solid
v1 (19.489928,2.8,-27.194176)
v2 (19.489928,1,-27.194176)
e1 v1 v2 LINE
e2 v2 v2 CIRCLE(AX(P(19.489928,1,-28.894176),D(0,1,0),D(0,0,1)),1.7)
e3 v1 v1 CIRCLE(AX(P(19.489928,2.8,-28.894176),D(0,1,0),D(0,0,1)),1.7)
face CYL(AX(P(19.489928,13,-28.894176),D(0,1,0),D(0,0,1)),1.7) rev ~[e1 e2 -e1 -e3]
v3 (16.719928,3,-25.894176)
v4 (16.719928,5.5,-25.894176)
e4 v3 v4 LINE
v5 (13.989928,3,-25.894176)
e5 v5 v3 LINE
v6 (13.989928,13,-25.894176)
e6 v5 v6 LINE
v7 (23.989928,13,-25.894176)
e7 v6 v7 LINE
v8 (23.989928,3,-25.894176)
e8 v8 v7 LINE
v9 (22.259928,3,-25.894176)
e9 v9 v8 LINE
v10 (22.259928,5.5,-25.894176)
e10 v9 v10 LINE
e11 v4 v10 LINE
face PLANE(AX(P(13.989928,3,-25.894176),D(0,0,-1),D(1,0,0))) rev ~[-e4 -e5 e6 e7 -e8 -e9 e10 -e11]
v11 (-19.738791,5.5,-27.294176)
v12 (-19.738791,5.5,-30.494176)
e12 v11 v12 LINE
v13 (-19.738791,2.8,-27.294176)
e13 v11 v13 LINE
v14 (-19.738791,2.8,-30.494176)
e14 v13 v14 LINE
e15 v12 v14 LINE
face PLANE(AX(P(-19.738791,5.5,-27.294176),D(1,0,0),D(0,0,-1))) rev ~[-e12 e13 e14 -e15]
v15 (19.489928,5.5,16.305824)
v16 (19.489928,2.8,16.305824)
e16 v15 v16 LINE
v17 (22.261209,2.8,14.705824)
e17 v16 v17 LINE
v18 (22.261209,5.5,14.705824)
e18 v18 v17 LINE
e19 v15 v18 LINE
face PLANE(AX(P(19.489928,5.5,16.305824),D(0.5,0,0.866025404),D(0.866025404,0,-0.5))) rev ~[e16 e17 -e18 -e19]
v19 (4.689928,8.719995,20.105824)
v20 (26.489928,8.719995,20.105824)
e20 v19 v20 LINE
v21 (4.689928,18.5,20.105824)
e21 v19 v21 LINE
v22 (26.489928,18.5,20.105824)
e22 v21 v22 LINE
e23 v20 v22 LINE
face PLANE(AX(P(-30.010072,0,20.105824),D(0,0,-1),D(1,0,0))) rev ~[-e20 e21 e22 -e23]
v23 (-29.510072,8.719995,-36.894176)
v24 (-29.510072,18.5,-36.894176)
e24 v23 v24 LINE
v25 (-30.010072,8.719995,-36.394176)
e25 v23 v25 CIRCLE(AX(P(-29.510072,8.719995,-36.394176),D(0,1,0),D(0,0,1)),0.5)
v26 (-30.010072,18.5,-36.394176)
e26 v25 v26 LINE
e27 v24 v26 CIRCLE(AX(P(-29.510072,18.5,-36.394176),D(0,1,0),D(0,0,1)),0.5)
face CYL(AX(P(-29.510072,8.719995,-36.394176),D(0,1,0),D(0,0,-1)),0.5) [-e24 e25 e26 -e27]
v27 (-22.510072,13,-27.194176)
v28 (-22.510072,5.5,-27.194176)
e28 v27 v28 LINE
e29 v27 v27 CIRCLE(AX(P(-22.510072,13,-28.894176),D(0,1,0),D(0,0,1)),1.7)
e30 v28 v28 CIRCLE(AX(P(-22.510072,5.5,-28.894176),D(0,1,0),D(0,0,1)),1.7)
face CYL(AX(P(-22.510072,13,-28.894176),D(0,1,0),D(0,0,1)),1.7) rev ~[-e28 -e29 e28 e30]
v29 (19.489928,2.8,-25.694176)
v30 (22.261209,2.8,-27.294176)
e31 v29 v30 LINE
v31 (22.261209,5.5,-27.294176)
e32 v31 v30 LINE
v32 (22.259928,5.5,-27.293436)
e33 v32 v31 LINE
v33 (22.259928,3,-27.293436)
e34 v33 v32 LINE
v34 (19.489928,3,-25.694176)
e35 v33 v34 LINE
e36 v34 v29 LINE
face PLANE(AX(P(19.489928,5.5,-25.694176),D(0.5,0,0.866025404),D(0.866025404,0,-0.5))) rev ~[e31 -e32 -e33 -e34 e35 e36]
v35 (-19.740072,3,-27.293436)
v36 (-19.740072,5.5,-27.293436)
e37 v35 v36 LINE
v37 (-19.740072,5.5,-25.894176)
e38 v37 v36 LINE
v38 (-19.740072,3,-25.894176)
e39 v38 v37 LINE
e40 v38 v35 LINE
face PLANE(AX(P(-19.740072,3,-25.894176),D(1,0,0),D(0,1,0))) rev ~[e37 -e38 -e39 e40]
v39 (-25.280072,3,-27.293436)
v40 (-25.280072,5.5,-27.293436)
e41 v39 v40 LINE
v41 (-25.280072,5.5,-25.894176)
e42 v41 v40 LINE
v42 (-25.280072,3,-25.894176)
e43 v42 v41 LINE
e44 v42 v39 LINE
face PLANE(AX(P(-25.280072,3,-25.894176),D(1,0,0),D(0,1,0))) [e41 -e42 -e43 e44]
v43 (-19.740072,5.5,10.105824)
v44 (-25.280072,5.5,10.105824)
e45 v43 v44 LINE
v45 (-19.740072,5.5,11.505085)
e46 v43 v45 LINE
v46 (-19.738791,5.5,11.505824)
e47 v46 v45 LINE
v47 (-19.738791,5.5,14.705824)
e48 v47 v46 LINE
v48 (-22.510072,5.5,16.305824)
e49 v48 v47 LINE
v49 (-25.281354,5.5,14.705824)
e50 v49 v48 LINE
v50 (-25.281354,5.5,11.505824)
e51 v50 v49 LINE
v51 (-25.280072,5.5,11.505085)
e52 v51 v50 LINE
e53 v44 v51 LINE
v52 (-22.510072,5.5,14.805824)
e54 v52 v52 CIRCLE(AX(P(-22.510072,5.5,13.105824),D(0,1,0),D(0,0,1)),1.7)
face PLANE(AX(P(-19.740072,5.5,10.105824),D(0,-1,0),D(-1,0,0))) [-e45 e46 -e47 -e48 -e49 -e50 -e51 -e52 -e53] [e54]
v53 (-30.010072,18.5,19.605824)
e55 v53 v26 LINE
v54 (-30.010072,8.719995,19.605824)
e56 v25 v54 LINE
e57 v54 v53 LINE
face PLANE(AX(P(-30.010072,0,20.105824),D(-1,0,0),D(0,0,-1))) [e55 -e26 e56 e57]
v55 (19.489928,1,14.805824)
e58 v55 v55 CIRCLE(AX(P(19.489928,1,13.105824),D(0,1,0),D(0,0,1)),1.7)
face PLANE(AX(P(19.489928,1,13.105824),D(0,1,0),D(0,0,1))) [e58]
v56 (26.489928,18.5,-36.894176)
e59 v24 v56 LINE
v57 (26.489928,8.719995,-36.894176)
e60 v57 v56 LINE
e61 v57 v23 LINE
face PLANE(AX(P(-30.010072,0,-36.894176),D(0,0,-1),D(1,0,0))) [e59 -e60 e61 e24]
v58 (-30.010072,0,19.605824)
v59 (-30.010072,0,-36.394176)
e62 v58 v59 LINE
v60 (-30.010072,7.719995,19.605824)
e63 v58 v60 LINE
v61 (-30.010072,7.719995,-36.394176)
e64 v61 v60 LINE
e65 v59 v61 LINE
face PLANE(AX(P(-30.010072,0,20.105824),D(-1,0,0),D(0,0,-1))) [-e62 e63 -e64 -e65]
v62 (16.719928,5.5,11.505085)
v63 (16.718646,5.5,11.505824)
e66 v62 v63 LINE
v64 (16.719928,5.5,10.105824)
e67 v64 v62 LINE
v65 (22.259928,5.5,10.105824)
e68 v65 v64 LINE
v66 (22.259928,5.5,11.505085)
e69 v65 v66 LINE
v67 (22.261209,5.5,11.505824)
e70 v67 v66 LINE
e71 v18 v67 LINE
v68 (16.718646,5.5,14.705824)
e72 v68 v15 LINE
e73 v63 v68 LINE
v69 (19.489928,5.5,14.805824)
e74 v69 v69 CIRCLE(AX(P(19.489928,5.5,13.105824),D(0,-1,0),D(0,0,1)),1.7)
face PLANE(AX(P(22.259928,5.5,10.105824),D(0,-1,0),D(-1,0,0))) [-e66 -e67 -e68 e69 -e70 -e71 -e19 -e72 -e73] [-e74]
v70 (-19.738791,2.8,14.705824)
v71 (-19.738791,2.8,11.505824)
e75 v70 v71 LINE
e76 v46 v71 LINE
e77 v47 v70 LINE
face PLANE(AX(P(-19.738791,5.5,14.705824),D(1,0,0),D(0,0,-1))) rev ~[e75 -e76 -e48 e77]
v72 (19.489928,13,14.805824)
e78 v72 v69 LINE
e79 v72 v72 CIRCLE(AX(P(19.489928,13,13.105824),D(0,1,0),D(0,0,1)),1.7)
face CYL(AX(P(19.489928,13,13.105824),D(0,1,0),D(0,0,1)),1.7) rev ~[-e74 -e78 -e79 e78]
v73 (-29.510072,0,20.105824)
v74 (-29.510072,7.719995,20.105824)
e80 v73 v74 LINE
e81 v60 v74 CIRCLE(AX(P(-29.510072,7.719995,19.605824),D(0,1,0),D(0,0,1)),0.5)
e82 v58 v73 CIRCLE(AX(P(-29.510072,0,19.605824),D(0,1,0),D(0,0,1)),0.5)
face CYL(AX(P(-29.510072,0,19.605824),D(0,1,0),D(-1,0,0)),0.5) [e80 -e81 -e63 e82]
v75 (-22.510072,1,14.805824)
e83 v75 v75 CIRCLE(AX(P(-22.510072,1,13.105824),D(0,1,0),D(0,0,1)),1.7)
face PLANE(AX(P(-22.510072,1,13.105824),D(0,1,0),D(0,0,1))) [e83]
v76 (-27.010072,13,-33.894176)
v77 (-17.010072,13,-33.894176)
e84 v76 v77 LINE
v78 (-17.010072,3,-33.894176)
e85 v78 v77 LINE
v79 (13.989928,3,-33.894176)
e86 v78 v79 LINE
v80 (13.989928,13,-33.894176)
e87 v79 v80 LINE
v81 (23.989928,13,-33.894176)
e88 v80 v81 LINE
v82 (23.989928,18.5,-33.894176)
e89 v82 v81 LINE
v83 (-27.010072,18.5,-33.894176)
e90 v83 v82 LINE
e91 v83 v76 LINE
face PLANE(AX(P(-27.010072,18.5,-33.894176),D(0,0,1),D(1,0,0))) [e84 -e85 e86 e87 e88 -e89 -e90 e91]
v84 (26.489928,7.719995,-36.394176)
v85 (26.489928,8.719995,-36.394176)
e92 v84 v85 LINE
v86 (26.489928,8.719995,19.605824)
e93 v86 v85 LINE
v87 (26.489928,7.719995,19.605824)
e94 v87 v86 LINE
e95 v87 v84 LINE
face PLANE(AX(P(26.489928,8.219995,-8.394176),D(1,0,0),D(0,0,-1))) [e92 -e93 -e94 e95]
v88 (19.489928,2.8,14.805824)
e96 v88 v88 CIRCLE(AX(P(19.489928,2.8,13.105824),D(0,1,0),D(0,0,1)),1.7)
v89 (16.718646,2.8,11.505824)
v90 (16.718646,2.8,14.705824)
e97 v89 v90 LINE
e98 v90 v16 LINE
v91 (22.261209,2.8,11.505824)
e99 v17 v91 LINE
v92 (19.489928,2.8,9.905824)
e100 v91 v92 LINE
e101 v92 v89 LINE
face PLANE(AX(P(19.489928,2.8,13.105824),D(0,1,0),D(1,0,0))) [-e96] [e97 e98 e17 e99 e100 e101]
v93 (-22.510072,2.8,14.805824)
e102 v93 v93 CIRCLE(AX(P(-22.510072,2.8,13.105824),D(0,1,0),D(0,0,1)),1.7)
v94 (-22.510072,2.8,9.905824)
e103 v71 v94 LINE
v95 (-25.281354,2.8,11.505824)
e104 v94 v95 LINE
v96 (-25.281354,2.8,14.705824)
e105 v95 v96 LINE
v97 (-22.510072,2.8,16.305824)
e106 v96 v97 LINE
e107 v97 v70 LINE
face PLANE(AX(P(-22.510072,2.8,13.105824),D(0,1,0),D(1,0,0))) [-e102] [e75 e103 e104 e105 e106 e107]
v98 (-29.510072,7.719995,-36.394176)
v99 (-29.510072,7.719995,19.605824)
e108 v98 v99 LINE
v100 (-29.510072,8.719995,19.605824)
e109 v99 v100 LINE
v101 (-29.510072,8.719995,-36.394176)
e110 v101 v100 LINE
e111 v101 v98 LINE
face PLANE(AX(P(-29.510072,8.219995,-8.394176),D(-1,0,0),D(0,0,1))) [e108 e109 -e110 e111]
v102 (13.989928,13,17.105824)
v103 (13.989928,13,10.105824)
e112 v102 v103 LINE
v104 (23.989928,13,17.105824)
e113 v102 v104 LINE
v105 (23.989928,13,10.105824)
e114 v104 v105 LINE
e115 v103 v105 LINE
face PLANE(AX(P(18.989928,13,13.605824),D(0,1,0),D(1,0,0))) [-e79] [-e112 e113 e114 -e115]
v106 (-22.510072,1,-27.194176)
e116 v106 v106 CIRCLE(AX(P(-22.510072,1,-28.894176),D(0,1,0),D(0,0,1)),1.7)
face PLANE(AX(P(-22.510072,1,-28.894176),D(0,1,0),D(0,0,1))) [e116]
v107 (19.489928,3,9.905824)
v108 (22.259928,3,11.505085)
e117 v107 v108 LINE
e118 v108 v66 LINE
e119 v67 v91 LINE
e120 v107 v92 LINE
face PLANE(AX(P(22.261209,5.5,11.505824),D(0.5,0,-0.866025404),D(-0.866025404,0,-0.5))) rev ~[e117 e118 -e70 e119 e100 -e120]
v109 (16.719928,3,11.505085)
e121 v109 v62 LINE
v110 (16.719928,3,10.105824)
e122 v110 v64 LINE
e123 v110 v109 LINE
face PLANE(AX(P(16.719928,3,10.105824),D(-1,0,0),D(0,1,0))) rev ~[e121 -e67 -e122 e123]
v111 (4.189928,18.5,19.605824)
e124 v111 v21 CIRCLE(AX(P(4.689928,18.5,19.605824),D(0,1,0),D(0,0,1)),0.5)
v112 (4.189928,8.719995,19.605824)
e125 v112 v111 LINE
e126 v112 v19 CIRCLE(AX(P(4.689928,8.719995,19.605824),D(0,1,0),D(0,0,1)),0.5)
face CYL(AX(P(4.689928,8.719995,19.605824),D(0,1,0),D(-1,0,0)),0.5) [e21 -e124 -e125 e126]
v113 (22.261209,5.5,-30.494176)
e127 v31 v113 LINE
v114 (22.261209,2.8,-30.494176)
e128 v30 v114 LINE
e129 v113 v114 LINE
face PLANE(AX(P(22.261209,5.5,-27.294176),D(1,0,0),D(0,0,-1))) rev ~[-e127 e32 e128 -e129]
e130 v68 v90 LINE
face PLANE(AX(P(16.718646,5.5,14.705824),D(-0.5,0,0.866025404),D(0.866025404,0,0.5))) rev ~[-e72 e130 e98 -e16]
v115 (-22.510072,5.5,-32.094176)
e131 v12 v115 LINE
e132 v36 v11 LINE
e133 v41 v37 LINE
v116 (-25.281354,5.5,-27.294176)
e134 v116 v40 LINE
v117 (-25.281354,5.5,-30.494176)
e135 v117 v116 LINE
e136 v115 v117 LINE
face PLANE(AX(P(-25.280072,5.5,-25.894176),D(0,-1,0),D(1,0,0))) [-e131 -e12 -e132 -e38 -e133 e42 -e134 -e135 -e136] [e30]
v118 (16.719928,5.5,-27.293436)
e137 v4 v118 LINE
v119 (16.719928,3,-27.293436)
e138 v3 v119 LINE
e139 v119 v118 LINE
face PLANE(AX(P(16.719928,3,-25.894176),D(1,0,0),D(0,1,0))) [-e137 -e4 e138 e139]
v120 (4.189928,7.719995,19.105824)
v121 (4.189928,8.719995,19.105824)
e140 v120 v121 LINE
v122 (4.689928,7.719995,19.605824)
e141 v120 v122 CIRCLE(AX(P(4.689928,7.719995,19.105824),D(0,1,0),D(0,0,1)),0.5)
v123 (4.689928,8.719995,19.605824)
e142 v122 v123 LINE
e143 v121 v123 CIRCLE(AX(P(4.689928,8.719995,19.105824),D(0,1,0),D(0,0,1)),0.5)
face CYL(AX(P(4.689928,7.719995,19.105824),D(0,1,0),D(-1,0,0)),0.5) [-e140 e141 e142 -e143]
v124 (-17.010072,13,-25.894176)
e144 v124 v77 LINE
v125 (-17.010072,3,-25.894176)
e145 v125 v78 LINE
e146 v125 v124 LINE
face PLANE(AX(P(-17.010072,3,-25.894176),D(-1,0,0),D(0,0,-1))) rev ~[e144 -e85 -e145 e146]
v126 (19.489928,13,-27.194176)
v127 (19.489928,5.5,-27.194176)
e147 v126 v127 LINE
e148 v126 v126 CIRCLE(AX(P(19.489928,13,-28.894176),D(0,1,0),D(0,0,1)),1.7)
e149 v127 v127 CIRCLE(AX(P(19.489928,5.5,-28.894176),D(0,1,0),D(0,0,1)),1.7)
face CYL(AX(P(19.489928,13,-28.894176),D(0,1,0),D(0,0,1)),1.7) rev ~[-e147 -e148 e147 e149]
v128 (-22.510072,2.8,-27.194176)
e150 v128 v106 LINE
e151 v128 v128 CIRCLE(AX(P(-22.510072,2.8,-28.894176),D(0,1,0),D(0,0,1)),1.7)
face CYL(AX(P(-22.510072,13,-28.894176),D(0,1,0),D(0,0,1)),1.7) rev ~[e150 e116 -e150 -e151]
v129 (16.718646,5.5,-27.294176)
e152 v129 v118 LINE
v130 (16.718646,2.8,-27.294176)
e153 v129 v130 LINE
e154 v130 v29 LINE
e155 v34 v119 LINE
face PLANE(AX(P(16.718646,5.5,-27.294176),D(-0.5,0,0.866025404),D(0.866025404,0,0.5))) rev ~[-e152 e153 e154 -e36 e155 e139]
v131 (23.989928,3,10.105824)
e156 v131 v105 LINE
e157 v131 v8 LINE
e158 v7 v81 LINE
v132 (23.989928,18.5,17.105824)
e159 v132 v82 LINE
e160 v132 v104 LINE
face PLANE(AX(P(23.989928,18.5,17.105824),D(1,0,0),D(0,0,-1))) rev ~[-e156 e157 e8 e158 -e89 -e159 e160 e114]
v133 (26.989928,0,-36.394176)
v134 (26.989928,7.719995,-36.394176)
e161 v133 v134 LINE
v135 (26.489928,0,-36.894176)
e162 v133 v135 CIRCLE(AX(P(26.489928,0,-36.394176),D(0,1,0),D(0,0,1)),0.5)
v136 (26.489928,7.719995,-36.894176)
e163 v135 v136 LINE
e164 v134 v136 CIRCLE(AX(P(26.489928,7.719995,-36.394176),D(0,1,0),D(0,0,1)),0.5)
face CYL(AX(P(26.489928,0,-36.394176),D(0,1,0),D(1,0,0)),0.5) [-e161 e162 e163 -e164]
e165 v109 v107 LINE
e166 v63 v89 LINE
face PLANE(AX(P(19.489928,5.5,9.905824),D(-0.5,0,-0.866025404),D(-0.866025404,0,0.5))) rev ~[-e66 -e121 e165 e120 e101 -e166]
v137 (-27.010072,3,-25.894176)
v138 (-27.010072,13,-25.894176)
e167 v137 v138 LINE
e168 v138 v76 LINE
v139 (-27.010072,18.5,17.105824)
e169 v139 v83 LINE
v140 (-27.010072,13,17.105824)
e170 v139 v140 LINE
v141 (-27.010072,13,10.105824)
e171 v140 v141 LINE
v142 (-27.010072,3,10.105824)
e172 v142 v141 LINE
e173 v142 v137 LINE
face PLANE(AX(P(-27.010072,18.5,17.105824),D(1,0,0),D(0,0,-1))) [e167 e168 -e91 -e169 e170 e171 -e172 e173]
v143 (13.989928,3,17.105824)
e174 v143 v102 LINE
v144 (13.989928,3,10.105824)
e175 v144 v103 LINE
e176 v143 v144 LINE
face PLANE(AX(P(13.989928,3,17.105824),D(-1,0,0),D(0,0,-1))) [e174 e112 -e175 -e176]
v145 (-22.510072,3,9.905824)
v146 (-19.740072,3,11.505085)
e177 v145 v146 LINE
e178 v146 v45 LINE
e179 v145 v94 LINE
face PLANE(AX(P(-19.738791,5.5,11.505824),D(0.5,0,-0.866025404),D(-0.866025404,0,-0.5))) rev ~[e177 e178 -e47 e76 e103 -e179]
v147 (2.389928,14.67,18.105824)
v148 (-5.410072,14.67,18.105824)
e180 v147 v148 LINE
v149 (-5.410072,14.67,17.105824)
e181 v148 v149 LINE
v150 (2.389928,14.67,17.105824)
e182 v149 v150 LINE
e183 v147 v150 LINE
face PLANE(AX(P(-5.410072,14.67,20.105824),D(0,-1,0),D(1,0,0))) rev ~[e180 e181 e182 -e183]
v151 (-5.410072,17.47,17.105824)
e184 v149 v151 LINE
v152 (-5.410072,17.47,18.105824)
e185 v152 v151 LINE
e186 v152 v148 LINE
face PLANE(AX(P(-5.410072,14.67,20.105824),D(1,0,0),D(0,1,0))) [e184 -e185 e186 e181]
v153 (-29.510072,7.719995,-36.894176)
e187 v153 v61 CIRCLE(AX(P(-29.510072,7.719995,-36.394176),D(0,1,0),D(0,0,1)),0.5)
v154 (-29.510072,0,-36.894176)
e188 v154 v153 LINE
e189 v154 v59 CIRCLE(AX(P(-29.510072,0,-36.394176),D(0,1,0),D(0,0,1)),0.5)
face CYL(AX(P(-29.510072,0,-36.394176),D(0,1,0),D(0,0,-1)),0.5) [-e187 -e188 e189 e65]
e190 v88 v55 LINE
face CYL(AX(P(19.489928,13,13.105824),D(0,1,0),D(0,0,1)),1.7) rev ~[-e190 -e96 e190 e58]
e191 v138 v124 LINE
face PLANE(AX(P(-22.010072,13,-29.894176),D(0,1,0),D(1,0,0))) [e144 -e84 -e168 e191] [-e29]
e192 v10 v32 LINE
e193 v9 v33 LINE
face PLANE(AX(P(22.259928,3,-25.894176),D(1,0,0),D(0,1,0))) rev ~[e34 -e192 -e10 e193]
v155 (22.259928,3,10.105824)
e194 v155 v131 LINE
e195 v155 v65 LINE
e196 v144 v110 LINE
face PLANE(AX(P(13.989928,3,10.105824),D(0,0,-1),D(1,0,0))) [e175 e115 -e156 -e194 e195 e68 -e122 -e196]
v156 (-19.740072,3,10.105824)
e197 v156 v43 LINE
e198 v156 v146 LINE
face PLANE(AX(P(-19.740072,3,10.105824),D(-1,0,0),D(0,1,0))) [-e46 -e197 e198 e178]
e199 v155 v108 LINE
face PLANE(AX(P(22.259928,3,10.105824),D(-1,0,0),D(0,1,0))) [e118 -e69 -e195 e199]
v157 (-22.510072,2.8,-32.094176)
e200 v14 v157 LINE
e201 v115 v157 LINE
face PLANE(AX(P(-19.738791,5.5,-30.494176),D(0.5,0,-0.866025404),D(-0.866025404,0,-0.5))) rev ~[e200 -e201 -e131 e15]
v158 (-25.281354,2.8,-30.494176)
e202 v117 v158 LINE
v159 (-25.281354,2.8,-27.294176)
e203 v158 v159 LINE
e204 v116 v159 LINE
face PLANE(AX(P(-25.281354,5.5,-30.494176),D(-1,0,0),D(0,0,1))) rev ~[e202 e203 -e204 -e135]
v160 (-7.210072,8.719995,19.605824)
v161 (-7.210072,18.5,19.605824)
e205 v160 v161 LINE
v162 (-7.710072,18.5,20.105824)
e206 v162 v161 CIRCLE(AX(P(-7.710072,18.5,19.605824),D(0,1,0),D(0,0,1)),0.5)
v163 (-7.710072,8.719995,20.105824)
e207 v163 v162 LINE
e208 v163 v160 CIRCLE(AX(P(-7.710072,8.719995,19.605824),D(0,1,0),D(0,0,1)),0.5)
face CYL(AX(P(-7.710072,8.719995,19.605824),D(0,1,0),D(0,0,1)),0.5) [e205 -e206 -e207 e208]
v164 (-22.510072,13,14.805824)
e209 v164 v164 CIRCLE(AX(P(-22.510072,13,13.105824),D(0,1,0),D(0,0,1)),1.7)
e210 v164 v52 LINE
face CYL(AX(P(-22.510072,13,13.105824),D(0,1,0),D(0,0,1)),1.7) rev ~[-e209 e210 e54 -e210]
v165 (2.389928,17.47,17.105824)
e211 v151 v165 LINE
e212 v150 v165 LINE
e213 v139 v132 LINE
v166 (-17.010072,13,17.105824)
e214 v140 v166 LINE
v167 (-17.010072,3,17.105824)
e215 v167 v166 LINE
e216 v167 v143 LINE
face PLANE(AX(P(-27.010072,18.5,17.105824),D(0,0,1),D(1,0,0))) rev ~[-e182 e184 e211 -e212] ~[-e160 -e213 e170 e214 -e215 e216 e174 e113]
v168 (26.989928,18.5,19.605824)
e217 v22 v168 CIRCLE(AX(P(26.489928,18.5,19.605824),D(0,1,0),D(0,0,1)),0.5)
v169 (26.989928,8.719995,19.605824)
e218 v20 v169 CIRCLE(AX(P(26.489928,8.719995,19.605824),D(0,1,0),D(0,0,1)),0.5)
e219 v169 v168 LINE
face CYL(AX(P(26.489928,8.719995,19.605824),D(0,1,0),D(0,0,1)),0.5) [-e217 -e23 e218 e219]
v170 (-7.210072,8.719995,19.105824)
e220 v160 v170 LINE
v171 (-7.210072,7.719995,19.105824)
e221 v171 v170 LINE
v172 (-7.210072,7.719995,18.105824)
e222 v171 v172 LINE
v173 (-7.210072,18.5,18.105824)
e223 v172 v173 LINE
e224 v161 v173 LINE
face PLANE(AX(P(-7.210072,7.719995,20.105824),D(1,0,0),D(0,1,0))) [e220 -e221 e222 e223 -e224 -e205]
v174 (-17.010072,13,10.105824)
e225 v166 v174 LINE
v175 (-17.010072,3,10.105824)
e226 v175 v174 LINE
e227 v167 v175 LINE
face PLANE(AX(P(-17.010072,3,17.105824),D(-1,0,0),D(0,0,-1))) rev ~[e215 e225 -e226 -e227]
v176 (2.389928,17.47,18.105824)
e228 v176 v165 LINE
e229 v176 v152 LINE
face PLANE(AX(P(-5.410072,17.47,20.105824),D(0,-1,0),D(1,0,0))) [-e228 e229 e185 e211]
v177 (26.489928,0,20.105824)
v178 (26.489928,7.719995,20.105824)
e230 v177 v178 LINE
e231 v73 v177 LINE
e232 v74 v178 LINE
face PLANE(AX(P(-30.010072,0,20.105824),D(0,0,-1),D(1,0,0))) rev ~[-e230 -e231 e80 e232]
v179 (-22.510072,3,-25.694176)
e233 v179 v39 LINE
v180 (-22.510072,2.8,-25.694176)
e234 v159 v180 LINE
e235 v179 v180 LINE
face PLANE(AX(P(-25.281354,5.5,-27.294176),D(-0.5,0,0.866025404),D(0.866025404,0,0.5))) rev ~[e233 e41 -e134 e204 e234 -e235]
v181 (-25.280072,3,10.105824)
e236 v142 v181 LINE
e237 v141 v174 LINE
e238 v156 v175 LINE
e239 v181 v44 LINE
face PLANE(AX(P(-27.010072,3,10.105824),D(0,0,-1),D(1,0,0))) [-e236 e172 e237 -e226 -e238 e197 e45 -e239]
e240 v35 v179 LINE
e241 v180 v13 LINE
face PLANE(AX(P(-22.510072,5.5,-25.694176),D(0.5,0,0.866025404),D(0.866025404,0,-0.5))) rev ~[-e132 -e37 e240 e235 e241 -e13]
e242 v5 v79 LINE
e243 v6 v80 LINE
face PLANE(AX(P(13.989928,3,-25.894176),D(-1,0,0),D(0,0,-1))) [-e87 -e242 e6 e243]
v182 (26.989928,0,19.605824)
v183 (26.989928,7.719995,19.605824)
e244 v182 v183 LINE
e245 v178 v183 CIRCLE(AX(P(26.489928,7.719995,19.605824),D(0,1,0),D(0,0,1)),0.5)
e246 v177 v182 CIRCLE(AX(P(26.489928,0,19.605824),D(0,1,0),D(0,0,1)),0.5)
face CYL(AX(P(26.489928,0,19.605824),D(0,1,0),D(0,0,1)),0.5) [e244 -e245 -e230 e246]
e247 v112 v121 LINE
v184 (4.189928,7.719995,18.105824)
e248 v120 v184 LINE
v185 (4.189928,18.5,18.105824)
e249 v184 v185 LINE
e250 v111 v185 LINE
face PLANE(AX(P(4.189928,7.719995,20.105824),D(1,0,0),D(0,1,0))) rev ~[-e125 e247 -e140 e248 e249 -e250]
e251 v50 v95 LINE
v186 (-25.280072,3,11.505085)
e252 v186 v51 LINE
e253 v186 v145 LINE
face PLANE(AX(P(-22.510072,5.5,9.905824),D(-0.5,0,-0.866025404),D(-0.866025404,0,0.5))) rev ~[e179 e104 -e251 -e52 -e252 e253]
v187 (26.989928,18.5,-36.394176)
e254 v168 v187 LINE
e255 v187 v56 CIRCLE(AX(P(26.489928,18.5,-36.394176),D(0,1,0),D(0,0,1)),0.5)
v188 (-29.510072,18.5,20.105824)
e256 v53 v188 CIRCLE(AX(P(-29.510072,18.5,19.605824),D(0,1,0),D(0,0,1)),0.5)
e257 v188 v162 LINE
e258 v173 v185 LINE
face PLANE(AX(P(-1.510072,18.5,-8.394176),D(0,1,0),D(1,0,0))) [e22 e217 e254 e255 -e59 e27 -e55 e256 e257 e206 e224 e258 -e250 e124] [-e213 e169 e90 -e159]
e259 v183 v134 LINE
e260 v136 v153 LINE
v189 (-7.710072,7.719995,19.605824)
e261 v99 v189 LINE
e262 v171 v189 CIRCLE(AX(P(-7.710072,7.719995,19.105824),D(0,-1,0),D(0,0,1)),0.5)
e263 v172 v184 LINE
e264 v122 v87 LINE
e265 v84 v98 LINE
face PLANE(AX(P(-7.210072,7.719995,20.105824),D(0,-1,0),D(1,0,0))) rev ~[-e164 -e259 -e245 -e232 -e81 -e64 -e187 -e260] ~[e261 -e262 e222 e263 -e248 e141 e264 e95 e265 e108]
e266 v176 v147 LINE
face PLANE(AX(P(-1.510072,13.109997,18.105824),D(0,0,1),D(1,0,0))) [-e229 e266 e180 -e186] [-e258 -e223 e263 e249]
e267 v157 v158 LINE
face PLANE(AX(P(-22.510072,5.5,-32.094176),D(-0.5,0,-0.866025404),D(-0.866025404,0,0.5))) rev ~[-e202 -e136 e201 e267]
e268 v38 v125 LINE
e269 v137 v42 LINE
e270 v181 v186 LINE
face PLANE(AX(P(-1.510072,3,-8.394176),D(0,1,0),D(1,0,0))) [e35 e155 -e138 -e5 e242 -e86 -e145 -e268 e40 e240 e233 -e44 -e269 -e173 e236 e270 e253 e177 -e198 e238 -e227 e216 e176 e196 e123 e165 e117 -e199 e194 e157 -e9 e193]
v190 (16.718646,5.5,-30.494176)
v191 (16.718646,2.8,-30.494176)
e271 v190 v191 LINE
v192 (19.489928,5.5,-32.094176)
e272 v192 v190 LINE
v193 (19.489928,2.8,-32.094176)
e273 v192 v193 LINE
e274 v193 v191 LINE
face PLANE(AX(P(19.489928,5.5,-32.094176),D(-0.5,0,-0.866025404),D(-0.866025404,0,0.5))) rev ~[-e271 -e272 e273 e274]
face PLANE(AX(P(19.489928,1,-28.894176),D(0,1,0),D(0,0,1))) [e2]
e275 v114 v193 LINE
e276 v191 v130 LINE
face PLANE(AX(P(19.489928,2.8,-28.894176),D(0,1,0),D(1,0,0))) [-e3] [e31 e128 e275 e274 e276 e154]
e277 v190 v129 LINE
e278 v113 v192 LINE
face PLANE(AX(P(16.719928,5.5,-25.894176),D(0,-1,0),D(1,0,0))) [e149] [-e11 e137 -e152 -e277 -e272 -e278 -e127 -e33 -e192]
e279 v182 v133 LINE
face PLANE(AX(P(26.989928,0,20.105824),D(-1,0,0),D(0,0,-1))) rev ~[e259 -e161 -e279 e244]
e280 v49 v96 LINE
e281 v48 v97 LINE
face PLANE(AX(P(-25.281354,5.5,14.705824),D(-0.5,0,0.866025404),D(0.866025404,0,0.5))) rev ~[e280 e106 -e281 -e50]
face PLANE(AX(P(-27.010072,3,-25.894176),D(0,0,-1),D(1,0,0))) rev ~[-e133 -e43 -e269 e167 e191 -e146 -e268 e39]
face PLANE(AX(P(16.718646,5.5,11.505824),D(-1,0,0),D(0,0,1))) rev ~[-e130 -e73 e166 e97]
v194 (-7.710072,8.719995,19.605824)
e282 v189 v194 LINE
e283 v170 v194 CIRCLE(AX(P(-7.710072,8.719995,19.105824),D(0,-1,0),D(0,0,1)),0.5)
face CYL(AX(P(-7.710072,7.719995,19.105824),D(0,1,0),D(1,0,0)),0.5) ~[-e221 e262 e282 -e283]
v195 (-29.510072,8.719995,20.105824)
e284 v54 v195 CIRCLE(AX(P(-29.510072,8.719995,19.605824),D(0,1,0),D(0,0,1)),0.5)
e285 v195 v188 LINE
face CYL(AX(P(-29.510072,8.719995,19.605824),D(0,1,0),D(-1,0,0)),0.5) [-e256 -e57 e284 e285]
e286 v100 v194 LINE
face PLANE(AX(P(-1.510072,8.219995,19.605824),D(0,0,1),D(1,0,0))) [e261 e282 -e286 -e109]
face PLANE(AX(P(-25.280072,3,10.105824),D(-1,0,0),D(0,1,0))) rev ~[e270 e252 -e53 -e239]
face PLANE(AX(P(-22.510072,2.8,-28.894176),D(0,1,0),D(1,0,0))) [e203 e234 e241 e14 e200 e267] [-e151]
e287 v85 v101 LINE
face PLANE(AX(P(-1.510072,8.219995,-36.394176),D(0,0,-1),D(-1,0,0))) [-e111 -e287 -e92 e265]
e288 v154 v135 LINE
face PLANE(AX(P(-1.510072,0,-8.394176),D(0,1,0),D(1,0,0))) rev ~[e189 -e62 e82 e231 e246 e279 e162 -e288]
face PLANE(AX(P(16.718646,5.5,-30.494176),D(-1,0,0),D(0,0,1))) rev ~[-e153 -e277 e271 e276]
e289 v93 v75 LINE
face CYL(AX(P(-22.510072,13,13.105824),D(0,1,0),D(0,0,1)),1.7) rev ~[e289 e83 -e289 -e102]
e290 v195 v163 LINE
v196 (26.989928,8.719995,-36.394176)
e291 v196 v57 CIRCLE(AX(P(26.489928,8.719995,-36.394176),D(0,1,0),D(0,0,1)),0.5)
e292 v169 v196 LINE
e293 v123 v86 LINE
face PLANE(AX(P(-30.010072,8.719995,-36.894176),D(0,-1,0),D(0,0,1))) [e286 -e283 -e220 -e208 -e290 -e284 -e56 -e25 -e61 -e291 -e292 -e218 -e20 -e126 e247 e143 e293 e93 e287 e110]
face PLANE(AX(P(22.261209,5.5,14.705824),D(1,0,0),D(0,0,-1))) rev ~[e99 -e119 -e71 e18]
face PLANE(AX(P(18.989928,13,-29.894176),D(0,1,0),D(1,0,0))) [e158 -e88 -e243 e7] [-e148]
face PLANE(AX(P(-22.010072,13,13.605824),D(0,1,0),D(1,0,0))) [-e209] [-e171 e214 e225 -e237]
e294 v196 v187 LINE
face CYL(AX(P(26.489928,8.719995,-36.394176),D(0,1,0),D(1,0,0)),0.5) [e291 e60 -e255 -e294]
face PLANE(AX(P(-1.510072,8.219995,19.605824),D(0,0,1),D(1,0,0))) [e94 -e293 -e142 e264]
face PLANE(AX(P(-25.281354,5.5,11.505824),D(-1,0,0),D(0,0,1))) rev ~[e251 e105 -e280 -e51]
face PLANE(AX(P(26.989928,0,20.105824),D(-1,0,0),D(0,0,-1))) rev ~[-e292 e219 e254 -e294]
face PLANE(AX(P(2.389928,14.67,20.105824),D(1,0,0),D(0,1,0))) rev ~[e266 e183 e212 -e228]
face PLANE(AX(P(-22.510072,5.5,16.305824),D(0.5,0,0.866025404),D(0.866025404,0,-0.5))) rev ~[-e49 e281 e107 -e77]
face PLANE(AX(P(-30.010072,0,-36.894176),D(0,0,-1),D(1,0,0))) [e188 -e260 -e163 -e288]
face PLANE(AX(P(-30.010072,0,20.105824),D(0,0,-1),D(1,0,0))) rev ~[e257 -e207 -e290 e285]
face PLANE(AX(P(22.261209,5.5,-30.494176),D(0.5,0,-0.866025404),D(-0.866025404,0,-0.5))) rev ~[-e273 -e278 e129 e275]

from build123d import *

# Parameters (mm, degrees)
ESQUISSE1_W              = 57
ESQUISSE1_H              = 57
BOSS_EXTRU_1_DEPTH       = 18.5
ESQUISSE2_W              = 51
ESQUISSE2_H              = 51
ENL_V_MAT_EXTRU_1_DEPTH  = 15.5
ESQUISSE4_W              = 10
ESQUISSE4_H              = 8
BOSS_EXTRU_2_DEPTH       = 10
ESQUISSE5_W              = 10
ESQUISSE5_H              = 8
BOSS_EXTRU_3_DEPTH       = 10
ESQUISSE6_W              = 10
ESQUISSE6_H              = 7
BOSS_EXTRU_4_DEPTH       = 10
ESQUISSE7_W              = 10
ESQUISSE7_H              = 7
BOSS_EXTRU_5_DEPTH       = 10
ESQUISSE8_R              = 1.7
ENL_V_MAT_EXTRU_2_DEPTH  = 12
ESQUISSE9_R              = 1.7
ENL_V_MAT_EXTRU_3_DEPTH  = 12
ESQUISSE16_R             = 1.7
ENL_V_MAT_EXTRU_9_DEPTH  = 12
ESQUISSE17_R             = 1.7
ENL_V_MAT_EXTRU_10_DEPTH = 12
ESQUISSE21_W             = 7.8
ESQUISSE21_H             = 2.8
ENL_V_MAT_EXTRU_14_DEPTH = 3
ENL_V_START              = -7.5
ENL_V_MAT_EXTRU_18_DEPTH = 2.7
ENL_V_MAT_EXTRU_20_DEPTH = 2.7
ESQUISSE26_W             = 5.54
ESQUISSE26_H             = 2.5
ENL_V_MAT_EXTRU_21_DEPTH = 2.847955181
ENL_V_MAT_EXTRU_22_DEPTH = 2.7
ENL_V_MAT_EXTRU_24_DEPTH = 2.7
ESQUISSE23_W             = 5.54
ESQUISSE23_H             = 2.5
ENL_V_MAT_EXTRU_26_DEPTH = 2
ESQUISSE31_W             = 5.54
ESQUISSE31_H             = 2.5
ENL_V_MAT_EXTRU_27_DEPTH = 2
ESQUISSE30_W             = 5.54
ESQUISSE30_H             = 2.5
ENL_V_MAT_EXTRU_28_DEPTH = 2
ESQUISSE32_W             = 57
ESQUISSE32_H             = 1
ENL_V_MAT_EXTRU_29_DEPTH = 0.5
ESQUISSE33_W             = 57
ESQUISSE33_H             = 1
ENL_V_MAT_EXTRU_30_DEPTH = 0.5
ESQUISSE34_W             = 57
ESQUISSE34_H             = 1
ENL_V_MAT_EXTRU_31_DEPTH = 0.5
ESQUISSE35_W             = 57
ESQUISSE35_H             = 1
ENL_V_MAT_EXTRU_32_DEPTH = 0.5
ESQUISSE36_W             = 11.4
ESQUISSE36_H             = 10.780005484
ENL_V_MAT_EXTRU_33_DEPTH = 2
CONG_1_R                 = 0.5
CONG_2_R                 = 0.5
CONG_3_R                 = 0.5
CONG_4_R                 = 0.5
CONG_5_R                 = 0.5
CONG_6_R                 = 0.5
CONG_7_R                 = 0.5
CONG_8_R                 = 0.5
CONG_9_R                 = 0.5
CONG_10_R                = 0.5
CONG_11_R                = 0.5
CONG_12_R                = 0.5


with BuildPart() as part:
    # Esquisse1 → Boss.-Extru.1 (new body)
    with BuildSketch(Plane(origin=(0, 0, 0), x_dir=(1, 0, 0), z_dir=(0, 1, 0))):
        with Locations((-1.510072399, 8.394175698)):
            Rectangle(ESQUISSE1_W, ESQUISSE1_H)
    extrude(amount=BOSS_EXTRU_1_DEPTH)

    # Esquisse2 → Enlèv. mat.-Extru.1 (cut)
    with BuildSketch(Plane(origin=(0, 18.5, 0), x_dir=(1, 0, 0), z_dir=(0, 1, 0))):
        with Locations((-1.510072399, 8.394175698)):
            Rectangle(ESQUISSE2_W, ESQUISSE2_H)
    extrude(amount=-ENL_V_MAT_EXTRU_1_DEPTH, mode=Mode.SUBTRACT)

    # Esquisse4 → Boss.-Extru.2 (add)
    with BuildSketch(Plane(origin=(0, 3, 0), x_dir=(1, 0, 0), z_dir=(0, 1, 0))):
        with Locations((-22.010072399, 29.894175698)):
            Rectangle(ESQUISSE4_W, ESQUISSE4_H)
    extrude(amount=BOSS_EXTRU_2_DEPTH)

    # Esquisse5 → Boss.-Extru.3 (add)
    with BuildSketch(Plane(origin=(0, 3, 0), x_dir=(1, 0, 0), z_dir=(0, 1, 0))):
        with Locations((18.989927601, 29.894175698)):
            Rectangle(ESQUISSE5_W, ESQUISSE5_H)
    extrude(amount=BOSS_EXTRU_3_DEPTH)

    # Esquisse6 → Boss.-Extru.4 (add)
    with BuildSketch(Plane(origin=(0, 3, 0), x_dir=(1, 0, 0), z_dir=(0, 1, 0))):
        with Locations((18.989927601, -13.605824302)):
            Rectangle(ESQUISSE6_W, ESQUISSE6_H)
    extrude(amount=BOSS_EXTRU_4_DEPTH)

    # Esquisse7 → Boss.-Extru.5 (add)
    with BuildSketch(Plane(origin=(0, 3, 0), x_dir=(1, 0, 0), z_dir=(0, 1, 0))):
        with Locations((-22.010072399, -13.605824302)):
            Rectangle(ESQUISSE7_W, ESQUISSE7_H)
    extrude(amount=BOSS_EXTRU_5_DEPTH)

    # Esquisse8 → Enlèv. mat.-Extru.2 (cut)
    with BuildSketch(Plane(origin=(0, 13, 0), x_dir=(1, 0, 0), z_dir=(0, 1, 0))):
        with Locations(Location((19.489927601, -13.105824302, 0), (0, 0, 270))):
            Circle(ESQUISSE8_R)
    extrude(amount=-ENL_V_MAT_EXTRU_2_DEPTH, mode=Mode.SUBTRACT)

    # Esquisse9 → Enlèv. mat.-Extru.3 (cut)
    with BuildSketch(Plane(origin=(0, 13, 0), x_dir=(1, 0, 0), z_dir=(0, 1, 0))):
        with Locations(Location((-22.510072399, -13.105824302, 0), (0, 0, 270))):
            Circle(ESQUISSE9_R)
    extrude(amount=-ENL_V_MAT_EXTRU_3_DEPTH, mode=Mode.SUBTRACT)

    # Esquisse16 → Enlèv. mat.-Extru.9 (cut)
    with BuildSketch(Plane(origin=(0, 13, 0), x_dir=(1, 0, 0), z_dir=(0, 1, 0))):
        with Locations(Location((-22.510072399, 28.894175698, 0), (0, 0, 270))):
            Circle(ESQUISSE16_R)
    extrude(amount=-ENL_V_MAT_EXTRU_9_DEPTH, mode=Mode.SUBTRACT)

    # Esquisse17 → Enlèv. mat.-Extru.10 (cut)
    with BuildSketch(Plane(origin=(0, 13, 0), x_dir=(1, 0, 0), z_dir=(0, 1, 0))):
        with Locations(Location((19.489927601, 28.894175698, 0), (0, 0, 270))):
            Circle(ESQUISSE17_R)
    extrude(amount=-ENL_V_MAT_EXTRU_10_DEPTH, mode=Mode.SUBTRACT)

    # Esquisse21 → Enlèv. mat.-Extru.14 (cut)
    with BuildSketch(Plane.XY.offset(20.105824302)):
        with Locations((-1.510072399, 16.07)):
            Rectangle(ESQUISSE21_W, ESQUISSE21_H)
    extrude(amount=-ENL_V_MAT_EXTRU_14_DEPTH, mode=Mode.SUBTRACT)

    # Esquisse24 → Enlèv. mat.-Extru.18 (cut)
    with BuildSketch(Plane(origin=(0, 13, 0), x_dir=(1, 0, 0), z_dir=(0, 1, 0)).offset(ENL_V_START)):
        Polygon((19.489927601, 25.694175698), (22.261208893, 27.294175698), (22.261208893, 30.494175698), (19.489927601, 32.094175698), (16.718646309, 30.494175698), (16.718646309, 27.294175698), align=None)
    extrude(amount=-ENL_V_MAT_EXTRU_18_DEPTH, mode=Mode.SUBTRACT)

    # Esquisse25 → Enlèv. mat.-Extru.20 (cut)
    with BuildSketch(Plane(origin=(0, 13, 0), x_dir=(1, 0, 0), z_dir=(0, 1, 0)).offset(ENL_V_START)):
        Polygon((16.718646309, -11.505824302), (16.718646309, -14.705824302), (19.489927601, -16.305824302), (22.261208893, -14.705824302), (22.261208893, -11.505824302), (19.489927601, -9.905824302), align=None)
    extrude(amount=-ENL_V_MAT_EXTRU_20_DEPTH, mode=Mode.SUBTRACT)

    # Esquisse26 → Enlèv. mat.-Extru.21 (cut)
    with BuildSketch(Plane(origin=(0, 0, 10.105824302), x_dir=(-1, 0, 0), z_dir=(0, 0, -1))):
        with Locations((-19.489927601, 4.25)):
            Rectangle(ESQUISSE26_W, ESQUISSE26_H)
    extrude(amount=-ENL_V_MAT_EXTRU_21_DEPTH, mode=Mode.SUBTRACT)

    # Esquisse27 → Enlèv. mat.-Extru.22 (cut)
    with BuildSketch(Plane(origin=(0, 13, 0), x_dir=(1, 0, 0), z_dir=(0, 1, 0)).offset(ENL_V_START)):
        Polygon((-19.738791107, 27.294175698), (-19.738791107, 30.494175698), (-22.510072399, 32.094175698), (-25.281353691, 30.494175698), (-25.281353691, 27.294175698), (-22.510072399, 25.694175698), align=None)
    extrude(amount=-ENL_V_MAT_EXTRU_22_DEPTH, mode=Mode.SUBTRACT)

    # Esquisse29 → Enlèv. mat.-Extru.24 (cut)
    with BuildSketch(Plane(origin=(0, 13, 0), x_dir=(1, 0, 0), z_dir=(0, 1, 0)).offset(ENL_V_START)):
        Polygon((-19.738791107, -11.505824302), (-22.510072399, -9.905824302), (-25.281353691, -11.505824302), (-25.281353691, -14.705824302), (-22.510072399, -16.305824302), (-19.738791107, -14.705824302), align=None)
    extrude(amount=-ENL_V_MAT_EXTRU_24_DEPTH, mode=Mode.SUBTRACT)

    # Esquisse23 → Enlèv. mat.-Extru.26 (cut)
    with BuildSketch(Plane.XY.offset(-25.894175698)):
        with Locations((19.489927601, 4.25)):
            Rectangle(ESQUISSE23_W, ESQUISSE23_H)
    extrude(amount=-ENL_V_MAT_EXTRU_26_DEPTH, mode=Mode.SUBTRACT)

    # Esquisse31 → Enlèv. mat.-Extru.27 (cut)
    with BuildSketch(Plane.XY.offset(-25.894175698)):
        with Locations((-22.510072399, 4.25)):
            Rectangle(ESQUISSE31_W, ESQUISSE31_H)
    extrude(amount=-ENL_V_MAT_EXTRU_27_DEPTH, mode=Mode.SUBTRACT)

    # Esquisse30 → Enlèv. mat.-Extru.28 (cut)
    with BuildSketch(Plane(origin=(0, 0, 10.105824302), x_dir=(-1, 0, 0), z_dir=(0, 0, -1))):
        with Locations((22.510072399, 4.25)):
            Rectangle(ESQUISSE30_W, ESQUISSE30_H)
    extrude(amount=-ENL_V_MAT_EXTRU_28_DEPTH, mode=Mode.SUBTRACT)

    # Esquisse32 → Enlèv. mat.-Extru.29 (cut)
    with BuildSketch(Plane.ZY.offset(30.010072399)):
        with Locations((-8.394175698, 8.219994516)):
            Rectangle(ESQUISSE32_W, ESQUISSE32_H)
    extrude(amount=-ENL_V_MAT_EXTRU_29_DEPTH, mode=Mode.SUBTRACT)

    # Esquisse33 → Enlèv. mat.-Extru.30 (cut)
    with BuildSketch(Plane.XY.offset(20.105824302)):
        with Locations((-1.510072399, 8.219994516)):
            Rectangle(ESQUISSE33_W, ESQUISSE33_H)
    extrude(amount=-ENL_V_MAT_EXTRU_30_DEPTH, mode=Mode.SUBTRACT)

    # Esquisse34 → Enlèv. mat.-Extru.31 (cut)
    with BuildSketch(Plane(origin=(26.989927601, 0, 0), x_dir=(0, 0, -1), z_dir=(1, 0, 0))):
        with Locations((8.394175698, 8.219994516)):
            Rectangle(ESQUISSE34_W, ESQUISSE34_H)
    extrude(amount=-ENL_V_MAT_EXTRU_31_DEPTH, mode=Mode.SUBTRACT)

    # Esquisse35 → Enlèv. mat.-Extru.32 (cut)
    with BuildSketch(Plane(origin=(0, 0, -36.894175698), x_dir=(-1, 0, 0), z_dir=(0, 0, -1))):
        with Locations((1.510072399, 8.219994516)):
            Rectangle(ESQUISSE35_W, ESQUISSE35_H)
    extrude(amount=-ENL_V_MAT_EXTRU_32_DEPTH, mode=Mode.SUBTRACT)

    # Esquisse36 → Enlèv. mat.-Extru.33 (cut)
    with BuildSketch(Plane.XY.offset(20.105824302)):
        with Locations((-1.510072399, 13.109997258)):
            Rectangle(ESQUISSE36_W, ESQUISSE36_H)
    extrude(amount=-ENL_V_MAT_EXTRU_33_DEPTH, mode=Mode.SUBTRACT)

    # Congé1
    cong_1_edges = [part.edges().sort_by_distance(p)[0] for p in [
        (-7.210072399, 13.609997258, 20.105824302),
    ]]
    fillet(cong_1_edges, radius=CONG_1_R)

    # Congé2
    cong_2_edges = [part.edges().sort_by_distance(p)[0] for p in [
        (4.189927601, 13.609997258, 20.105824302),
    ]]
    fillet(cong_2_edges, radius=CONG_2_R)

    # Congé3
    cong_3_edges = [part.edges().sort_by_distance(p)[0] for p in [
        (-7.210072399, 8.219994516, 19.605824302),
    ]]
    fillet(cong_3_edges, radius=CONG_3_R)

    # Congé4
    cong_4_edges = [part.edges().sort_by_distance(p)[0] for p in [
        (4.189927601, 8.219994516, 19.605824302),
    ]]
    fillet(cong_4_edges, radius=CONG_4_R)

    # Congé5
    cong_5_edges = [part.edges().sort_by_distance(p)[0] for p in [
        (26.989927601, 13.609997258, 20.105824302),
    ]]
    fillet(cong_5_edges, radius=CONG_5_R)

    # Congé6
    cong_6_edges = [part.edges().sort_by_distance(p)[0] for p in [
        (26.989927601, 3.859997258, 20.105824302),
    ]]
    fillet(cong_6_edges, radius=CONG_6_R)

    # Congé7
    cong_7_edges = [part.edges().sort_by_distance(p)[0] for p in [
        (26.989927601, 13.609997258, -36.894175698),
    ]]
    fillet(cong_7_edges, radius=CONG_7_R)

    # Congé8
    cong_8_edges = [part.edges().sort_by_distance(p)[0] for p in [
        (26.989927601, 3.859997258, -36.894175698),
    ]]
    fillet(cong_8_edges, radius=CONG_8_R)

    # Congé9
    cong_9_edges = [part.edges().sort_by_distance(p)[0] for p in [
        (-30.010072399, 13.609997258, -36.894175698),
    ]]
    fillet(cong_9_edges, radius=CONG_9_R)

    # Congé10
    cong_10_edges = [part.edges().sort_by_distance(p)[0] for p in [
        (-30.010072399, 3.859997258, -36.894175698),
    ]]
    fillet(cong_10_edges, radius=CONG_10_R)

    # Congé11
    cong_11_edges = [part.edges().sort_by_distance(p)[0] for p in [
        (-30.010072399, 13.609997258, 20.105824302),
    ]]
    fillet(cong_11_edges, radius=CONG_11_R)

    # Congé12
    cong_12_edges = [part.edges().sort_by_distance(p)[0] for p in [
        (-30.010072399, 3.859997258, 20.105824302),
    ]]
    fillet(cong_12_edges, radius=CONG_12_R)


solid = part.part
